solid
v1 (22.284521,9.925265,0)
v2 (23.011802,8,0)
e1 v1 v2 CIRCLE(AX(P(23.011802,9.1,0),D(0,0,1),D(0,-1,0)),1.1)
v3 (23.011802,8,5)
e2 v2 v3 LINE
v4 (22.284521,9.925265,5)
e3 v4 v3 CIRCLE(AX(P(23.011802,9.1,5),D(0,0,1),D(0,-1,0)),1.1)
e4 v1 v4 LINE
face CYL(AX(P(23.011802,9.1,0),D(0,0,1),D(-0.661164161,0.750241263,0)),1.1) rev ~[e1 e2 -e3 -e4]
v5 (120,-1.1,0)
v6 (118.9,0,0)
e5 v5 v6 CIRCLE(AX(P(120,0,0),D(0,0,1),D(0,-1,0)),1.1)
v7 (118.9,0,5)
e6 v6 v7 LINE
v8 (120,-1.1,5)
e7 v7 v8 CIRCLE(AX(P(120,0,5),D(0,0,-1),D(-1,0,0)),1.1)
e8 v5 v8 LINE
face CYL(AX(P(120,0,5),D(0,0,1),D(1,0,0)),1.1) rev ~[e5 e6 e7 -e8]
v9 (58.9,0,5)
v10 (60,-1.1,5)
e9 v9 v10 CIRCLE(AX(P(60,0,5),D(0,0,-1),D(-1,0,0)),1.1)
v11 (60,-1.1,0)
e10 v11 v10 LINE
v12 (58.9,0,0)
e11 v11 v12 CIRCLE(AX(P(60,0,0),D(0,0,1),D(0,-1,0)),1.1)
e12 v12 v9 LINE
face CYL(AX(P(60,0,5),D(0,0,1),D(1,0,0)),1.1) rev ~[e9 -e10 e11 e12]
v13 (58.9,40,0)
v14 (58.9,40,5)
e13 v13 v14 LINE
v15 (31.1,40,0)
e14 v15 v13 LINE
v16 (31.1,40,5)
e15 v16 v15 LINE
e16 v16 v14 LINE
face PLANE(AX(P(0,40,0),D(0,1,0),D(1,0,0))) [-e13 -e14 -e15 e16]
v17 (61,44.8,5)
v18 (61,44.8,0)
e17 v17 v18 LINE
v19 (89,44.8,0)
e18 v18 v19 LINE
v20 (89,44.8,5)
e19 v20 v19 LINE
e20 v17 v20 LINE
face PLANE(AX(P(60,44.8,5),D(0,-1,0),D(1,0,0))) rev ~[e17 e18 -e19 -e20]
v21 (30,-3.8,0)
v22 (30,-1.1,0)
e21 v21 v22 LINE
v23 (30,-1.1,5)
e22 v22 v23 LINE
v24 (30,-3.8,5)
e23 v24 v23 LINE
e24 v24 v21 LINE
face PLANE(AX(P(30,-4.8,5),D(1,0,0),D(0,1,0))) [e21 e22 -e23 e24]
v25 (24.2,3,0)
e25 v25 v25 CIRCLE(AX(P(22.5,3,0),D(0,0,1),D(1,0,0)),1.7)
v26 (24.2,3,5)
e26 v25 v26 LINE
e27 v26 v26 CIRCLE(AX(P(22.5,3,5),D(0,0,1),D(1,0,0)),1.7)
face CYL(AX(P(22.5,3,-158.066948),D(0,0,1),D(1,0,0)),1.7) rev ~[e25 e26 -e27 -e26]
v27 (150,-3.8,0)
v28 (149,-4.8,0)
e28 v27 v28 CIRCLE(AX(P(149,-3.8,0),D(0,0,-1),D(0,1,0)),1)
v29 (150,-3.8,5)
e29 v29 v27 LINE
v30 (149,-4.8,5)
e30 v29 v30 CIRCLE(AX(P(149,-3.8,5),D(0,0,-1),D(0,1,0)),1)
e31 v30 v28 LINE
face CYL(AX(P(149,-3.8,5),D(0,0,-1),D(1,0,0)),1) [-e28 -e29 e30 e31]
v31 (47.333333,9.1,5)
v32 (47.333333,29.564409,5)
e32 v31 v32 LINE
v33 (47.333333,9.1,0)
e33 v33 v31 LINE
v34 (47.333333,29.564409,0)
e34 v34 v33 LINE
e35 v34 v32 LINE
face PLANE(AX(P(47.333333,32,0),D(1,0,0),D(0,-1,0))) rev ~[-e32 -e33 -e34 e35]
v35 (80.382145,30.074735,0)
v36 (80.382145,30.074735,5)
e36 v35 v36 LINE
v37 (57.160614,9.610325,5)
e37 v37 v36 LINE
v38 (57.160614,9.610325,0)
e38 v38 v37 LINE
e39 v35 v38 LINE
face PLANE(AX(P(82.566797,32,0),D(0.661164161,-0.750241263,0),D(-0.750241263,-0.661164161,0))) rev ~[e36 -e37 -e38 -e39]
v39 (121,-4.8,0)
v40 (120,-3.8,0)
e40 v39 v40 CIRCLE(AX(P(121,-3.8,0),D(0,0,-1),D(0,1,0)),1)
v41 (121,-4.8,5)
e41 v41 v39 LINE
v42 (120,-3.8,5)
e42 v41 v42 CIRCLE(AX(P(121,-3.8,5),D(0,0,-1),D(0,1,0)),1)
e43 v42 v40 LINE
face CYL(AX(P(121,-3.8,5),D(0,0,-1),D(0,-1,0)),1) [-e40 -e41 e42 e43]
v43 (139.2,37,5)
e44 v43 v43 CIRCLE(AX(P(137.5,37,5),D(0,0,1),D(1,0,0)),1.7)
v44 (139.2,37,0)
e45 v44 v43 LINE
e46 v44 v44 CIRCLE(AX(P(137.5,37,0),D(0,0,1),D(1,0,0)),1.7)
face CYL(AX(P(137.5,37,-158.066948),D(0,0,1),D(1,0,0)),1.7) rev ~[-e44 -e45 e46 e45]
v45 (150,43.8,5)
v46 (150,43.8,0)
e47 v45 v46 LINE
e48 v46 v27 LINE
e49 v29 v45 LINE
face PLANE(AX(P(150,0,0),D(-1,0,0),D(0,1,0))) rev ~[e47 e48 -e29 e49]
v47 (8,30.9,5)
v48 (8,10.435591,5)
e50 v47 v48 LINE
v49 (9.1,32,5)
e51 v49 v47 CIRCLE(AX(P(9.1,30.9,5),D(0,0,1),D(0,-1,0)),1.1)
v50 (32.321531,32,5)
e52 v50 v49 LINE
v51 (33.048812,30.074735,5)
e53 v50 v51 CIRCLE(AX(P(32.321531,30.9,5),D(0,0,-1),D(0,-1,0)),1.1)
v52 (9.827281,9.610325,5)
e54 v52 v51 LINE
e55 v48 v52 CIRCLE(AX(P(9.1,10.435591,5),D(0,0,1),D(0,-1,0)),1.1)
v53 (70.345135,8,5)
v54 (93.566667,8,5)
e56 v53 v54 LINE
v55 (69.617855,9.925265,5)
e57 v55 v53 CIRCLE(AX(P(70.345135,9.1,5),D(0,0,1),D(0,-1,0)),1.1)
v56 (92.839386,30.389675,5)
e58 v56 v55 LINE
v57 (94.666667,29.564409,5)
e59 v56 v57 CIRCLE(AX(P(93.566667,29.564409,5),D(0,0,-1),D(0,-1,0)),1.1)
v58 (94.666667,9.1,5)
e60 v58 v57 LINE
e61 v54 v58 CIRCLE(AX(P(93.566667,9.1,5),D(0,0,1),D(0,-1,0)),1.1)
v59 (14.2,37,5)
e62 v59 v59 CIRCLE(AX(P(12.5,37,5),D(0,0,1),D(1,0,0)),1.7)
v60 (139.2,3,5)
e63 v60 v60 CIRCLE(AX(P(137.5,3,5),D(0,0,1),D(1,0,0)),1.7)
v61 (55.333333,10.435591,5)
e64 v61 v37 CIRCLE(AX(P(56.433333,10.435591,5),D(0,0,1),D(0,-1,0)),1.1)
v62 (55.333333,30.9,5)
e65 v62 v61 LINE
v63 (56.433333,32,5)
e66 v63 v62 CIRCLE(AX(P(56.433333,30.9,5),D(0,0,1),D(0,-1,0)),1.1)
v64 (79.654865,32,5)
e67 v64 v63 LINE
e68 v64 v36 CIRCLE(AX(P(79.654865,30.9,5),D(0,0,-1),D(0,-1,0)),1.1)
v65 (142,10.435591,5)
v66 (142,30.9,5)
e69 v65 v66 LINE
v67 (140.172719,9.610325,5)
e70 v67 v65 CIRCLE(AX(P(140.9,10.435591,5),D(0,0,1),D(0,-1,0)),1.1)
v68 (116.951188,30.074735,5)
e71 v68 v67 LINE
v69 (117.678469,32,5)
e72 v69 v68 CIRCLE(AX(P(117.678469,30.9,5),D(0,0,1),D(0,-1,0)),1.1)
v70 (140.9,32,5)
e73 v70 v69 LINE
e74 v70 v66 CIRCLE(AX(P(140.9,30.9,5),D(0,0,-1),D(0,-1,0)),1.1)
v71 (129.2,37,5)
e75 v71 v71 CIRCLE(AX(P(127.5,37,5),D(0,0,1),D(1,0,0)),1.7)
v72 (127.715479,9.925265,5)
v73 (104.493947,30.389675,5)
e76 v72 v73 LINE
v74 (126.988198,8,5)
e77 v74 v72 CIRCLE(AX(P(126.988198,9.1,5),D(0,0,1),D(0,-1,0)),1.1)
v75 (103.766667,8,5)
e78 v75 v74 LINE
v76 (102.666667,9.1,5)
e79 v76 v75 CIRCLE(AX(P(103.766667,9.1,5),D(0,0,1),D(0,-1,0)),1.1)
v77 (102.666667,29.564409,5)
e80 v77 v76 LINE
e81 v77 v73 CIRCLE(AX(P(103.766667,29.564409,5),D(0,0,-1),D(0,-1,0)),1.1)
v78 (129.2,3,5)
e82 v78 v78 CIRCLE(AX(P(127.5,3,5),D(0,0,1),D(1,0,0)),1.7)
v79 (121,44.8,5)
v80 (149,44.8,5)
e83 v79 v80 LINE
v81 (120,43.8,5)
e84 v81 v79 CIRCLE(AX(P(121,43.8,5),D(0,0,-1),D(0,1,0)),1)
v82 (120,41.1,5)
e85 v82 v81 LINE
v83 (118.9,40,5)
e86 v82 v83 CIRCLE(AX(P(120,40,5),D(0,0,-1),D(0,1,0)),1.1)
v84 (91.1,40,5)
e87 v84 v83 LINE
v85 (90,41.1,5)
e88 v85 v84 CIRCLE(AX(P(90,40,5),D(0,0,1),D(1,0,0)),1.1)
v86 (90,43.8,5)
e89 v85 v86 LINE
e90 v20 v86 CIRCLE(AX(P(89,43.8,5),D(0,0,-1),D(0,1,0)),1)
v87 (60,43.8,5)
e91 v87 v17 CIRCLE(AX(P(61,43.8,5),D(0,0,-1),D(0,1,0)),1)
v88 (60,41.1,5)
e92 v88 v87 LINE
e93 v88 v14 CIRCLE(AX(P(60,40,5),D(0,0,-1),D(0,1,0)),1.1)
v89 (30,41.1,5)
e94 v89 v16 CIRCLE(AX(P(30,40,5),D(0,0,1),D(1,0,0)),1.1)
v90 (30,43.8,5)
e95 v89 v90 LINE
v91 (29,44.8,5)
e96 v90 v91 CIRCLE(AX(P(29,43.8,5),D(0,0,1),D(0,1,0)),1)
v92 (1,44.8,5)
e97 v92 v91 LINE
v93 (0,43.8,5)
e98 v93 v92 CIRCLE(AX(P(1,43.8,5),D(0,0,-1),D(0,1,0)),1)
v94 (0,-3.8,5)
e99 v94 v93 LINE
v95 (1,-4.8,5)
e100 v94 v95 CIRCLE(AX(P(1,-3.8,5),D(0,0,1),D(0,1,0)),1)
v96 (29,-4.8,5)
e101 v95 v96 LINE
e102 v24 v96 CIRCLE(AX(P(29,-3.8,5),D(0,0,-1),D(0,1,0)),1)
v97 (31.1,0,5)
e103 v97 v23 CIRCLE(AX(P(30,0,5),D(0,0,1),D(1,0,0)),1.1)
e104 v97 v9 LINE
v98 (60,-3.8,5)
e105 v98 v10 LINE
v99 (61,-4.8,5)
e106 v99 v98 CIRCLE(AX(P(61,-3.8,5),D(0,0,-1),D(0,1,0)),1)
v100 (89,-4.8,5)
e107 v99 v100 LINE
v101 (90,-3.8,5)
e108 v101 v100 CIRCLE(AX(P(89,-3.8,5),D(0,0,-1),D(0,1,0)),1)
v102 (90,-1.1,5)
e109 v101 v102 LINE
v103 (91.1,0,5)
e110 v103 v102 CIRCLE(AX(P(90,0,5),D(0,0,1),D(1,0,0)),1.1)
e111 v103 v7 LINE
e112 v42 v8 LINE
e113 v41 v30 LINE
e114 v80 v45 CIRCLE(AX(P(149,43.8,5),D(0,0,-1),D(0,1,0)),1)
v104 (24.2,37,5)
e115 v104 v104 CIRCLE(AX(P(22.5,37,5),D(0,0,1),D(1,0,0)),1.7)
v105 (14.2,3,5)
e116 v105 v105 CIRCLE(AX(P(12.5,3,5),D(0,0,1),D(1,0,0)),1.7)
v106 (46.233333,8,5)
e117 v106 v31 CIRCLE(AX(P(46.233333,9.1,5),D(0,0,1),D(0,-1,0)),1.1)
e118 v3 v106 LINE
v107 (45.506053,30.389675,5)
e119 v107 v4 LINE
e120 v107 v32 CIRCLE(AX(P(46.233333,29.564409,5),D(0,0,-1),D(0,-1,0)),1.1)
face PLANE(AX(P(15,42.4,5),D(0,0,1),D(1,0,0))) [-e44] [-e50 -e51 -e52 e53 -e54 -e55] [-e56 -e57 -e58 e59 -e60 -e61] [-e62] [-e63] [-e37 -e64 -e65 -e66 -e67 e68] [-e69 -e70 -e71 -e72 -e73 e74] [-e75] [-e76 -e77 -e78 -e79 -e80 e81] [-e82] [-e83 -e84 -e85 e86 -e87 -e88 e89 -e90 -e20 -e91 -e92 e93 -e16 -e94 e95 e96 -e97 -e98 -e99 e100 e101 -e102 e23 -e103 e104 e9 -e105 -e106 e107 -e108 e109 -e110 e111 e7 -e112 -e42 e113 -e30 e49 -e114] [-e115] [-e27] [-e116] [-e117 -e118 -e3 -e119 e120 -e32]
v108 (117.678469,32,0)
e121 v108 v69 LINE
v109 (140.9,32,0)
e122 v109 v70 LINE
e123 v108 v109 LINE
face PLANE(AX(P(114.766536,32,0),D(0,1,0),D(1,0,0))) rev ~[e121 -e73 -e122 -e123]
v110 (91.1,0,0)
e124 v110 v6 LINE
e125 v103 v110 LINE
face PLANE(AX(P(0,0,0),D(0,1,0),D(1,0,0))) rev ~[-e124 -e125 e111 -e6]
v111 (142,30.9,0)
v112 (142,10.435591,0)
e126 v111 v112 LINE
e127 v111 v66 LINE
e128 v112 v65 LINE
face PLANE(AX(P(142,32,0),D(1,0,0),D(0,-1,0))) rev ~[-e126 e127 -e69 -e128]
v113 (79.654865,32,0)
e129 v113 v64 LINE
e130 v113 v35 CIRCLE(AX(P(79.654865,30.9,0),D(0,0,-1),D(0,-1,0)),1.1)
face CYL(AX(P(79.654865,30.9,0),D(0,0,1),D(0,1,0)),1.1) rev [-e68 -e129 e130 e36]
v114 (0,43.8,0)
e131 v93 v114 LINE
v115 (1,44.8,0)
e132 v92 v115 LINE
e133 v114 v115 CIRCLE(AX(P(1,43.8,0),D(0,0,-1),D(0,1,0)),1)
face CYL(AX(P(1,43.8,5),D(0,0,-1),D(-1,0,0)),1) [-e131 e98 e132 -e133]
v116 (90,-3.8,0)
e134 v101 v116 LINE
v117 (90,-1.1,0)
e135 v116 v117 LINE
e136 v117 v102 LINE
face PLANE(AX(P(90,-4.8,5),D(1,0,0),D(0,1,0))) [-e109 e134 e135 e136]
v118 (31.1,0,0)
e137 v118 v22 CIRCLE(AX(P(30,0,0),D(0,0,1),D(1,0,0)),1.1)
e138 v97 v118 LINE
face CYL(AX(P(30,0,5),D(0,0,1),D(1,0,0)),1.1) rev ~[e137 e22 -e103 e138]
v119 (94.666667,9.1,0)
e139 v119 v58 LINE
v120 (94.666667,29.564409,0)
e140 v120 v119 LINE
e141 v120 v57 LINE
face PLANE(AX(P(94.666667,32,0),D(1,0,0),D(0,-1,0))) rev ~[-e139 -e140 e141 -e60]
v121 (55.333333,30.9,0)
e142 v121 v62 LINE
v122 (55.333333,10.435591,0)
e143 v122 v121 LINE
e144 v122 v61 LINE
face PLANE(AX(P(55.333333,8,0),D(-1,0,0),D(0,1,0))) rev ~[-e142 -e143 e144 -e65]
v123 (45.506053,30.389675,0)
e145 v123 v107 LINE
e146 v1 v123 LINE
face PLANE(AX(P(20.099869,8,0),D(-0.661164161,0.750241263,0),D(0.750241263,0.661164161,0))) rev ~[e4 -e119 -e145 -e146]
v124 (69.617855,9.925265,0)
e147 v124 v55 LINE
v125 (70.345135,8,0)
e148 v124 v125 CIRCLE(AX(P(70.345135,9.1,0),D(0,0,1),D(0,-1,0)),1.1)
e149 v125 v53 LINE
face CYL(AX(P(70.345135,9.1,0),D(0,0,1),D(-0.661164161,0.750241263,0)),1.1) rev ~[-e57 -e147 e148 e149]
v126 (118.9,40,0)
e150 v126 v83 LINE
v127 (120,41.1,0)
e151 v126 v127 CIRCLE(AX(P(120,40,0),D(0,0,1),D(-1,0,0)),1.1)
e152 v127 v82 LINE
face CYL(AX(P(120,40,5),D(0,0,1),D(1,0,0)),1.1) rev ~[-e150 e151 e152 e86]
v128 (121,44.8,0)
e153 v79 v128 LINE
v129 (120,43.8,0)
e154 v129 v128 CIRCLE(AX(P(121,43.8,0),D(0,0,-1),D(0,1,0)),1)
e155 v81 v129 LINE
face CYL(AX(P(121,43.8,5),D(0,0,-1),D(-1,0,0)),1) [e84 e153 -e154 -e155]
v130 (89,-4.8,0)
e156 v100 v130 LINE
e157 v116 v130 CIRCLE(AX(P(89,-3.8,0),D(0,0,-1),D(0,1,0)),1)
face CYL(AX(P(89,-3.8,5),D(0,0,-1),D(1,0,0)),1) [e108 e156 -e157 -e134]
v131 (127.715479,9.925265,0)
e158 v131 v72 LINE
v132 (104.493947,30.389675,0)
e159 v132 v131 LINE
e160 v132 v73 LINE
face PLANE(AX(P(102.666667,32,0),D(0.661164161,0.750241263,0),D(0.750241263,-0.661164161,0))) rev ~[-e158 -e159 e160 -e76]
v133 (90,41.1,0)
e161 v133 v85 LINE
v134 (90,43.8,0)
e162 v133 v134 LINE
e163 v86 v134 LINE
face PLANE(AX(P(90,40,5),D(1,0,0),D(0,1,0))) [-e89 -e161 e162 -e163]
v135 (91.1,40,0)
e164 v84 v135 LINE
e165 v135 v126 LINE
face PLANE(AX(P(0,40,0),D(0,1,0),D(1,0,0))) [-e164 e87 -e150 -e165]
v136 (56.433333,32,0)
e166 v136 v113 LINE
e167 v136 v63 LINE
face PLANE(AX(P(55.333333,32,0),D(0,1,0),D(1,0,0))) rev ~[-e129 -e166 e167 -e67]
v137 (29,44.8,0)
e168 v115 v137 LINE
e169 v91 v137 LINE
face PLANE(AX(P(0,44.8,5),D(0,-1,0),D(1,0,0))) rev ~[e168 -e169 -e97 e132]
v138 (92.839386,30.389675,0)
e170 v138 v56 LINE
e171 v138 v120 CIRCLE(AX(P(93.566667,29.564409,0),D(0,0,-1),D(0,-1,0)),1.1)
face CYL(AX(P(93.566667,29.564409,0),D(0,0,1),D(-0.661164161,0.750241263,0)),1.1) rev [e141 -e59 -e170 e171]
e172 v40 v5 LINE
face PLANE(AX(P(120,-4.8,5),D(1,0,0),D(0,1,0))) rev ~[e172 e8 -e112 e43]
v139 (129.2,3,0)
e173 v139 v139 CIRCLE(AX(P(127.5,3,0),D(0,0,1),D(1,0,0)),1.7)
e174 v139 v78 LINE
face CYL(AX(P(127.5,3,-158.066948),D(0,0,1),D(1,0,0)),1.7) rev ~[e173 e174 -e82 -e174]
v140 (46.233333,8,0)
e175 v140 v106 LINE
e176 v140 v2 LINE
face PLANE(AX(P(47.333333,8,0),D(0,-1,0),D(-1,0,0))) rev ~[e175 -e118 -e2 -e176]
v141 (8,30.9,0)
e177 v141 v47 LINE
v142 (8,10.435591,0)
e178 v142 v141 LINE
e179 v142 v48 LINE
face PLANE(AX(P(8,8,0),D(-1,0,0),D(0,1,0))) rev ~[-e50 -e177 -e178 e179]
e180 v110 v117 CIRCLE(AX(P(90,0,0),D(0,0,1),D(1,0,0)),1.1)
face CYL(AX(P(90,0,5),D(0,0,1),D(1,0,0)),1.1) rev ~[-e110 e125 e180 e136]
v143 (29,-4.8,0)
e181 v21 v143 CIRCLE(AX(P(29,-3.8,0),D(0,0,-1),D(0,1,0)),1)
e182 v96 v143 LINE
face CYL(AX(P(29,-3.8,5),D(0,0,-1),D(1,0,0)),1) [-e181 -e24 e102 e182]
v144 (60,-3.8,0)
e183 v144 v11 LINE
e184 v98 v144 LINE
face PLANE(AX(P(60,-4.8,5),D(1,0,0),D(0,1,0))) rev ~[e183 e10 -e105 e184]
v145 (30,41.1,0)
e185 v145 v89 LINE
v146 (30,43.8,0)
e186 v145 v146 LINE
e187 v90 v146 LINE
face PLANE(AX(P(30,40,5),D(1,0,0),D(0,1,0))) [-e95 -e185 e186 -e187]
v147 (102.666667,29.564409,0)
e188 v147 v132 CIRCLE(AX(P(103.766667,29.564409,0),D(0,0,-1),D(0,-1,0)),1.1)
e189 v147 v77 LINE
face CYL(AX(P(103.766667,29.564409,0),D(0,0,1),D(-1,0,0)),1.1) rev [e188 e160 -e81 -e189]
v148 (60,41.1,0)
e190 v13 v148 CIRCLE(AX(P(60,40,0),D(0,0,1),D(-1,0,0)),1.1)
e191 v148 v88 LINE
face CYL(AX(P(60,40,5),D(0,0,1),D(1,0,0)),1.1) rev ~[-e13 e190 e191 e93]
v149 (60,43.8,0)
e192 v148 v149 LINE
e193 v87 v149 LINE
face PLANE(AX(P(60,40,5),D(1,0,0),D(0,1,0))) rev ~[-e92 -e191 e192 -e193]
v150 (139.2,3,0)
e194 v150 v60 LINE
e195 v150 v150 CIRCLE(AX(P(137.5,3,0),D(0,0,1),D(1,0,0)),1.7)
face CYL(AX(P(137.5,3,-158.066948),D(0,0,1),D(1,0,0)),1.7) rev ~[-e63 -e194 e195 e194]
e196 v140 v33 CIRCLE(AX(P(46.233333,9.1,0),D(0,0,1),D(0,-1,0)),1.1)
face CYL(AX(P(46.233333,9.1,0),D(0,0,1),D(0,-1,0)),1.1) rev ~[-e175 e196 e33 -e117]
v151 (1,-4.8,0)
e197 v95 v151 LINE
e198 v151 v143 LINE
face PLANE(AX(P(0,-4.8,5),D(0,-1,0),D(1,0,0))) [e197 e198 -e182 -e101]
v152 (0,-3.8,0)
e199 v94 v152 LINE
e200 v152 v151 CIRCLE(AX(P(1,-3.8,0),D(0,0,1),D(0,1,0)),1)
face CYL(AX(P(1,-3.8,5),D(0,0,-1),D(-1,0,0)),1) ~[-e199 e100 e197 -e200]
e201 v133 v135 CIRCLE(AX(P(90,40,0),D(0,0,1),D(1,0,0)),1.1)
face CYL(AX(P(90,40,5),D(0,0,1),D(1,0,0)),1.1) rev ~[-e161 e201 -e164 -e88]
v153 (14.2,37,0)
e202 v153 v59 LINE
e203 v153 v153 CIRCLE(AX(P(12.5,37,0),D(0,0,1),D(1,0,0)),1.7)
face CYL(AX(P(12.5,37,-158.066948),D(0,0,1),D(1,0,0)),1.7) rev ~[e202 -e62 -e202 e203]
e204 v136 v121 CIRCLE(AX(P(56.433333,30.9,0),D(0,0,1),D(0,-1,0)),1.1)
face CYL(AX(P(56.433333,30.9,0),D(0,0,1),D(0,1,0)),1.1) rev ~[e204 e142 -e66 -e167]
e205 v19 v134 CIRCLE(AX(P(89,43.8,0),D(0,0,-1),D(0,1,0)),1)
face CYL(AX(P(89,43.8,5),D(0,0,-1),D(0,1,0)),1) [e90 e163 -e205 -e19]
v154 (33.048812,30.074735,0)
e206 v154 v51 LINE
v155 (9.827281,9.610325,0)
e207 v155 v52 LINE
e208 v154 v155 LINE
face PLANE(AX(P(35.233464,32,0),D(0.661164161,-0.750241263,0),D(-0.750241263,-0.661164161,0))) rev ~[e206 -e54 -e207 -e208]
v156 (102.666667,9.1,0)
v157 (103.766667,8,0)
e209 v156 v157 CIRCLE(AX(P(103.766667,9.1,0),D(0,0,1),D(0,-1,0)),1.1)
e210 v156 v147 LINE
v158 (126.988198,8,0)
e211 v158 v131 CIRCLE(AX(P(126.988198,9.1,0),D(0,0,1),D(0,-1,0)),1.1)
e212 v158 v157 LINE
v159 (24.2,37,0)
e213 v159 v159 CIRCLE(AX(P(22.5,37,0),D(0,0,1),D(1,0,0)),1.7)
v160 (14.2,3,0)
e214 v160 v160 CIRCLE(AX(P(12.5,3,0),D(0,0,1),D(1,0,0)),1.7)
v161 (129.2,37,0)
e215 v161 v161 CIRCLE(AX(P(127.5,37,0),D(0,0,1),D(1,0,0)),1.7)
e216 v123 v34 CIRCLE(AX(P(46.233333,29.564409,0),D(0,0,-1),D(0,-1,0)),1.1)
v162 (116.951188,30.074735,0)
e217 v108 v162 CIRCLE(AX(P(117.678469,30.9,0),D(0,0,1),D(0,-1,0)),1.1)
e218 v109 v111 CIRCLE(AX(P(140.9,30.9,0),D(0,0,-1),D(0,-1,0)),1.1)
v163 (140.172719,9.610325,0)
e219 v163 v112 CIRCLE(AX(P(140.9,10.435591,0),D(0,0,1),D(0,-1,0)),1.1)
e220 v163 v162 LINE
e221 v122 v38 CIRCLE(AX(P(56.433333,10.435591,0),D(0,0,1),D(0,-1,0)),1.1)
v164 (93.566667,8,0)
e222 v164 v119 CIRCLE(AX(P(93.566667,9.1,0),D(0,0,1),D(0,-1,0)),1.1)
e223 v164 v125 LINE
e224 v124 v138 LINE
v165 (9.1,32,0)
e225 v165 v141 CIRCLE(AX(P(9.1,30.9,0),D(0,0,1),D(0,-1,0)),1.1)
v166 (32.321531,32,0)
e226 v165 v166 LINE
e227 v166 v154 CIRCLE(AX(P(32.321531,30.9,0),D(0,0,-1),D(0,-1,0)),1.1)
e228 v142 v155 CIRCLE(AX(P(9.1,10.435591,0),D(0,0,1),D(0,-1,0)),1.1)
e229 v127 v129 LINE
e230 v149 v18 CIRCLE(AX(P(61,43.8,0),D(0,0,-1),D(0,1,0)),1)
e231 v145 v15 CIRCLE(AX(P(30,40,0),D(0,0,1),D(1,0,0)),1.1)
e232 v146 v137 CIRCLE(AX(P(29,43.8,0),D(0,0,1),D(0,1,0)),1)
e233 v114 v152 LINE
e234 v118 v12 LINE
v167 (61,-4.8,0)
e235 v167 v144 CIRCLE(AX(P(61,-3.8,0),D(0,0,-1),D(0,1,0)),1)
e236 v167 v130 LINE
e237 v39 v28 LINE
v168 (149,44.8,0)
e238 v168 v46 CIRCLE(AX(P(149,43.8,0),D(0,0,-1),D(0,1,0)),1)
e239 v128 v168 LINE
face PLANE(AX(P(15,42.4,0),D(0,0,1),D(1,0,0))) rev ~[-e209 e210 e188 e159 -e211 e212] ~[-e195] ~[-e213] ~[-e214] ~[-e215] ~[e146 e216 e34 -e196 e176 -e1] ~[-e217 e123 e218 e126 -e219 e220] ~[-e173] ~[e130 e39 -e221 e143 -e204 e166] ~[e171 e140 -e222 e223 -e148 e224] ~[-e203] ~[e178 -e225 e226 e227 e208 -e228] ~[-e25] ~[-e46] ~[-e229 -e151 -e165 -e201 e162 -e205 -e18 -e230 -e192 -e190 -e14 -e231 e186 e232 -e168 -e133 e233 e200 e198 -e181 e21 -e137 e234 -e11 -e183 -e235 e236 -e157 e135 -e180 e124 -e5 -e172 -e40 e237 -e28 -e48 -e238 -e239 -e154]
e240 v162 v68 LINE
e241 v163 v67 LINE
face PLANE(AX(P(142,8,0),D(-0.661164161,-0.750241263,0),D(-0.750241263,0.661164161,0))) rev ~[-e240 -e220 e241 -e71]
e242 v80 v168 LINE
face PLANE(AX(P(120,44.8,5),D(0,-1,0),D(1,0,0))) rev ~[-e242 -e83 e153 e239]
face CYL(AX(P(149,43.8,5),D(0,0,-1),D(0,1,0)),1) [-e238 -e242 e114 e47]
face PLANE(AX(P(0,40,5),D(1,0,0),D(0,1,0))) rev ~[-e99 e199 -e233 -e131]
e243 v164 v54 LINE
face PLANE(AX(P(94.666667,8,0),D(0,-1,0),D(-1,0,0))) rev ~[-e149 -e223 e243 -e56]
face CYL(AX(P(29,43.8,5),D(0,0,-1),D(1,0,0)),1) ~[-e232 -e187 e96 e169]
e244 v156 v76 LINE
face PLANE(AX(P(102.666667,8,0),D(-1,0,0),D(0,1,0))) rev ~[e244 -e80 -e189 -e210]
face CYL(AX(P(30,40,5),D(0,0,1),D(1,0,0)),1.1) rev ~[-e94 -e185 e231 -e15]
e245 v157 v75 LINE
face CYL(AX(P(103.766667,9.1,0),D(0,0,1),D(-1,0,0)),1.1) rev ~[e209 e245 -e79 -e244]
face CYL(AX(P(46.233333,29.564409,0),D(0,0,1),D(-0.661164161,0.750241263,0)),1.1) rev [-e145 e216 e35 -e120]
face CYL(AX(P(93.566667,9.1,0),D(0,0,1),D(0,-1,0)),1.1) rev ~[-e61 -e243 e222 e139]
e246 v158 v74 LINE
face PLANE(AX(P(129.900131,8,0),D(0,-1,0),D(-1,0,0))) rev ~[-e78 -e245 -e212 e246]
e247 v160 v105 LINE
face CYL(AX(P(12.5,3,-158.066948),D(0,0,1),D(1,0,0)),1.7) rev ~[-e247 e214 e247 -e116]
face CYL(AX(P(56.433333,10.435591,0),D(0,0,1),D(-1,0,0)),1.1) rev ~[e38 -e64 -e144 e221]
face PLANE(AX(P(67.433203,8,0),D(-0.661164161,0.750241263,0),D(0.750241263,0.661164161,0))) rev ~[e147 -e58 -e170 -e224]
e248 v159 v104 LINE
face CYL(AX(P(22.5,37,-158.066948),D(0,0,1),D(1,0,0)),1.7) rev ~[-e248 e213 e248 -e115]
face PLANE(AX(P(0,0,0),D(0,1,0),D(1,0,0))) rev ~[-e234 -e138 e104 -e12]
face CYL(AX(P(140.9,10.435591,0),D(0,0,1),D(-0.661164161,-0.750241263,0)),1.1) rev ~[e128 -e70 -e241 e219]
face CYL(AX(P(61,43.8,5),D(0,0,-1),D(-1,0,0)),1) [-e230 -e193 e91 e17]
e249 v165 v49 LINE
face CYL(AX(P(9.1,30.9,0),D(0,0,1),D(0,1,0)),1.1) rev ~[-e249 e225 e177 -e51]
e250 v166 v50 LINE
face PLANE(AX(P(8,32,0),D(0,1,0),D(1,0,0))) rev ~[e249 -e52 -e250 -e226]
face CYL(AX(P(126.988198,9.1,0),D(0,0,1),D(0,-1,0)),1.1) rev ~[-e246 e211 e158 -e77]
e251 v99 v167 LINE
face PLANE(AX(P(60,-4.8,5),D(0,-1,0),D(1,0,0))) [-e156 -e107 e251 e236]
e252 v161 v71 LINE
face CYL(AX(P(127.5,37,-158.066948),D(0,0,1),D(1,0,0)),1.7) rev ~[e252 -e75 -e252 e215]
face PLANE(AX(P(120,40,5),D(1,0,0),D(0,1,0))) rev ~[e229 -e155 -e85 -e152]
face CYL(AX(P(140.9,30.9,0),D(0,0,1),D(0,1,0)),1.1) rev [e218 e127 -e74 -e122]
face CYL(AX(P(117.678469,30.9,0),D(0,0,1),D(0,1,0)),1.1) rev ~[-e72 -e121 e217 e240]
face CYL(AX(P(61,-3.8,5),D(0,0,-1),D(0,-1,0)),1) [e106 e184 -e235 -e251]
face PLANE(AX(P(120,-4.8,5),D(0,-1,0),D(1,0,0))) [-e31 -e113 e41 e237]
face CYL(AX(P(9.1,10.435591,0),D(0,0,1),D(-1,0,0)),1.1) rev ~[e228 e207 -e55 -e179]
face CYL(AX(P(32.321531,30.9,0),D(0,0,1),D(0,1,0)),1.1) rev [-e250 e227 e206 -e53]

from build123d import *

# Parameters (mm, degrees)
SKETCH_1_W          = 150
SKETCH_1_H          = 40
EXTRUDE_1_DEPTH     = 5
SKETCH_2_W          = 30
SKETCH_2_H          = 4.8
EXTRUDE_2_DEPTH     = 5
SKETCH_3_R          = 1.1
CUT_EXTRUDE_1_DEPTH = 5
FILLET_1_R          = 1
CUT_EXTRUDE_2_DEPTH = 10
FILLET_2_R          = 1.1
HOLE_WIZARD_M3_1_D  = 3.4


with BuildPart() as part:
    # 草图1 → 凸台-拉伸1 (new body)
    with BuildSketch(Plane.XY):
        with Locations((75, 20)):
            Rectangle(SKETCH_1_W, SKETCH_1_H)
    extrude(amount=EXTRUDE_1_DEPTH)

    # 草图2 → 凸台-拉伸2 (add)
    with BuildSketch(Plane.XY.offset(5)):
        with Locations((15, 42.4)):
            Rectangle(SKETCH_2_W, SKETCH_2_H)
        with Locations((75, 42.4)):
            Rectangle(SKETCH_2_W, SKETCH_2_H)
        with Locations((135, 42.4)):
            Rectangle(SKETCH_2_W, SKETCH_2_H)
        with Locations((15, -2.4)):
            Rectangle(SKETCH_2_W, SKETCH_2_H)
        with Locations((75, -2.4)):
            Rectangle(SKETCH_2_W, SKETCH_2_H)
        with Locations((135, -2.4)):
            Rectangle(SKETCH_2_W, SKETCH_2_H)
    extrude(amount=-EXTRUDE_2_DEPTH)

    # 草图3 → 切除-拉伸1 (cut)
    with BuildSketch(Plane.XY.offset(5)):
        with Locations((30, 40)):
            Circle(SKETCH_3_R)
        with Locations((60, 40)):
            Circle(SKETCH_3_R)
        with Locations((90, 40)):
            Circle(SKETCH_3_R)
        with Locations((120, 40)):
            Circle(SKETCH_3_R)
        with Locations((30, 0)):
            Circle(SKETCH_3_R)
        with Locations((60, 0)):
            Circle(SKETCH_3_R)
        with Locations((90, 0)):
            Circle(SKETCH_3_R)
        with Locations((120, 0)):
            Circle(SKETCH_3_R)
    extrude(amount=-CUT_EXTRUDE_1_DEPTH, mode=Mode.SUBTRACT)

    # 圆角1
    fillet_1_edges = [part.edges().sort_by_distance(p)[0] for p in [
        (0, 44.8, 2.5),
        (30, 44.8, 2.5),
        (60, 44.8, 2.5),
        (90, 44.8, 2.5),
        (150, 44.8, 2.5),
        (120, 44.8, 2.5),
        (0, -4.8, 2.5),
        (30, -4.8, 2.5),
        (60, -4.8, 2.5),
        (90, -4.8, 2.5),
        (120, -4.8, 2.5),
        (150, -4.8, 2.5),
    ]]
    fillet(fillet_1_edges, radius=FILLET_1_R)

    # 草图5 → 切除-拉伸2 (cut)
    with BuildSketch(Plane(origin=(0, 0, 0), x_dir=(-1, 0, 0), z_dir=(0, 0, -1))):
        Polygon((-114.766536075, 32), (-118.9, 32), (-142, 32), (-142, 8), align=None)
        Polygon((-102.666666667, 8), (-102.666666667, 32), (-129.900130591, 8), align=None)
        Polygon((-67.433202742, 8), (-94.666666667, 32), (-94.666666667, 8), align=None)
        Polygon((-8, 32), (-35.233463925, 32), (-8, 8), align=None)
        Polygon((-55.333333333, 32), (-82.566797258, 32), (-55.333333333, 8), align=None)
        Polygon((-20.099869409, 8), (-47.333333333, 32), (-47.333333333, 8), align=None)
    extrude(amount=-CUT_EXTRUDE_2_DEPTH, mode=Mode.SUBTRACT)

    # 圆角2
    fillet_2_edges = [part.edges().sort_by_distance(p)[0] for p in [
        (55.333333333, 8, 2.5),
        (82.566797258, 32, 2.5),
        (55.333333333, 32, 2.5),
        (8, 8, 2.5),
        (35.233463925, 32, 2.5),
        (8, 32, 2.5),
        (94.666666667, 32, 2.5),
        (67.433202742, 8, 2.5),
        (94.666666667, 8, 2.5),
        (102.666666667, 32, 2.5),
        (102.666666667, 8, 2.5),
        (129.900130591, 8, 2.5),
        (47.333333333, 32, 2.5),
        (20.099869409, 8, 2.5),
        (47.333333333, 8, 2.5),
        (142, 8, 2.5),
        (142, 32, 2.5),
        (114.766536075, 32, 2.5),
    ]]
    fillet(fillet_2_edges, radius=FILLET_2_R)

    # M3 间隙孔1 (through all)
    with Locations(Plane(origin=(0, 0, 0), x_dir=(-1, 0, 0), z_dir=(0, 0, -1))):
        with Locations((-137.5, 37), (-127.5, 37), (-22.5, 37), (-12.5, 37), (-137.5, 3), (-127.5, 3), (-22.5, 3), (-12.5, 3)):
            Hole(HOLE_WIZARD_M3_1_D / 2)


solid = part.part
